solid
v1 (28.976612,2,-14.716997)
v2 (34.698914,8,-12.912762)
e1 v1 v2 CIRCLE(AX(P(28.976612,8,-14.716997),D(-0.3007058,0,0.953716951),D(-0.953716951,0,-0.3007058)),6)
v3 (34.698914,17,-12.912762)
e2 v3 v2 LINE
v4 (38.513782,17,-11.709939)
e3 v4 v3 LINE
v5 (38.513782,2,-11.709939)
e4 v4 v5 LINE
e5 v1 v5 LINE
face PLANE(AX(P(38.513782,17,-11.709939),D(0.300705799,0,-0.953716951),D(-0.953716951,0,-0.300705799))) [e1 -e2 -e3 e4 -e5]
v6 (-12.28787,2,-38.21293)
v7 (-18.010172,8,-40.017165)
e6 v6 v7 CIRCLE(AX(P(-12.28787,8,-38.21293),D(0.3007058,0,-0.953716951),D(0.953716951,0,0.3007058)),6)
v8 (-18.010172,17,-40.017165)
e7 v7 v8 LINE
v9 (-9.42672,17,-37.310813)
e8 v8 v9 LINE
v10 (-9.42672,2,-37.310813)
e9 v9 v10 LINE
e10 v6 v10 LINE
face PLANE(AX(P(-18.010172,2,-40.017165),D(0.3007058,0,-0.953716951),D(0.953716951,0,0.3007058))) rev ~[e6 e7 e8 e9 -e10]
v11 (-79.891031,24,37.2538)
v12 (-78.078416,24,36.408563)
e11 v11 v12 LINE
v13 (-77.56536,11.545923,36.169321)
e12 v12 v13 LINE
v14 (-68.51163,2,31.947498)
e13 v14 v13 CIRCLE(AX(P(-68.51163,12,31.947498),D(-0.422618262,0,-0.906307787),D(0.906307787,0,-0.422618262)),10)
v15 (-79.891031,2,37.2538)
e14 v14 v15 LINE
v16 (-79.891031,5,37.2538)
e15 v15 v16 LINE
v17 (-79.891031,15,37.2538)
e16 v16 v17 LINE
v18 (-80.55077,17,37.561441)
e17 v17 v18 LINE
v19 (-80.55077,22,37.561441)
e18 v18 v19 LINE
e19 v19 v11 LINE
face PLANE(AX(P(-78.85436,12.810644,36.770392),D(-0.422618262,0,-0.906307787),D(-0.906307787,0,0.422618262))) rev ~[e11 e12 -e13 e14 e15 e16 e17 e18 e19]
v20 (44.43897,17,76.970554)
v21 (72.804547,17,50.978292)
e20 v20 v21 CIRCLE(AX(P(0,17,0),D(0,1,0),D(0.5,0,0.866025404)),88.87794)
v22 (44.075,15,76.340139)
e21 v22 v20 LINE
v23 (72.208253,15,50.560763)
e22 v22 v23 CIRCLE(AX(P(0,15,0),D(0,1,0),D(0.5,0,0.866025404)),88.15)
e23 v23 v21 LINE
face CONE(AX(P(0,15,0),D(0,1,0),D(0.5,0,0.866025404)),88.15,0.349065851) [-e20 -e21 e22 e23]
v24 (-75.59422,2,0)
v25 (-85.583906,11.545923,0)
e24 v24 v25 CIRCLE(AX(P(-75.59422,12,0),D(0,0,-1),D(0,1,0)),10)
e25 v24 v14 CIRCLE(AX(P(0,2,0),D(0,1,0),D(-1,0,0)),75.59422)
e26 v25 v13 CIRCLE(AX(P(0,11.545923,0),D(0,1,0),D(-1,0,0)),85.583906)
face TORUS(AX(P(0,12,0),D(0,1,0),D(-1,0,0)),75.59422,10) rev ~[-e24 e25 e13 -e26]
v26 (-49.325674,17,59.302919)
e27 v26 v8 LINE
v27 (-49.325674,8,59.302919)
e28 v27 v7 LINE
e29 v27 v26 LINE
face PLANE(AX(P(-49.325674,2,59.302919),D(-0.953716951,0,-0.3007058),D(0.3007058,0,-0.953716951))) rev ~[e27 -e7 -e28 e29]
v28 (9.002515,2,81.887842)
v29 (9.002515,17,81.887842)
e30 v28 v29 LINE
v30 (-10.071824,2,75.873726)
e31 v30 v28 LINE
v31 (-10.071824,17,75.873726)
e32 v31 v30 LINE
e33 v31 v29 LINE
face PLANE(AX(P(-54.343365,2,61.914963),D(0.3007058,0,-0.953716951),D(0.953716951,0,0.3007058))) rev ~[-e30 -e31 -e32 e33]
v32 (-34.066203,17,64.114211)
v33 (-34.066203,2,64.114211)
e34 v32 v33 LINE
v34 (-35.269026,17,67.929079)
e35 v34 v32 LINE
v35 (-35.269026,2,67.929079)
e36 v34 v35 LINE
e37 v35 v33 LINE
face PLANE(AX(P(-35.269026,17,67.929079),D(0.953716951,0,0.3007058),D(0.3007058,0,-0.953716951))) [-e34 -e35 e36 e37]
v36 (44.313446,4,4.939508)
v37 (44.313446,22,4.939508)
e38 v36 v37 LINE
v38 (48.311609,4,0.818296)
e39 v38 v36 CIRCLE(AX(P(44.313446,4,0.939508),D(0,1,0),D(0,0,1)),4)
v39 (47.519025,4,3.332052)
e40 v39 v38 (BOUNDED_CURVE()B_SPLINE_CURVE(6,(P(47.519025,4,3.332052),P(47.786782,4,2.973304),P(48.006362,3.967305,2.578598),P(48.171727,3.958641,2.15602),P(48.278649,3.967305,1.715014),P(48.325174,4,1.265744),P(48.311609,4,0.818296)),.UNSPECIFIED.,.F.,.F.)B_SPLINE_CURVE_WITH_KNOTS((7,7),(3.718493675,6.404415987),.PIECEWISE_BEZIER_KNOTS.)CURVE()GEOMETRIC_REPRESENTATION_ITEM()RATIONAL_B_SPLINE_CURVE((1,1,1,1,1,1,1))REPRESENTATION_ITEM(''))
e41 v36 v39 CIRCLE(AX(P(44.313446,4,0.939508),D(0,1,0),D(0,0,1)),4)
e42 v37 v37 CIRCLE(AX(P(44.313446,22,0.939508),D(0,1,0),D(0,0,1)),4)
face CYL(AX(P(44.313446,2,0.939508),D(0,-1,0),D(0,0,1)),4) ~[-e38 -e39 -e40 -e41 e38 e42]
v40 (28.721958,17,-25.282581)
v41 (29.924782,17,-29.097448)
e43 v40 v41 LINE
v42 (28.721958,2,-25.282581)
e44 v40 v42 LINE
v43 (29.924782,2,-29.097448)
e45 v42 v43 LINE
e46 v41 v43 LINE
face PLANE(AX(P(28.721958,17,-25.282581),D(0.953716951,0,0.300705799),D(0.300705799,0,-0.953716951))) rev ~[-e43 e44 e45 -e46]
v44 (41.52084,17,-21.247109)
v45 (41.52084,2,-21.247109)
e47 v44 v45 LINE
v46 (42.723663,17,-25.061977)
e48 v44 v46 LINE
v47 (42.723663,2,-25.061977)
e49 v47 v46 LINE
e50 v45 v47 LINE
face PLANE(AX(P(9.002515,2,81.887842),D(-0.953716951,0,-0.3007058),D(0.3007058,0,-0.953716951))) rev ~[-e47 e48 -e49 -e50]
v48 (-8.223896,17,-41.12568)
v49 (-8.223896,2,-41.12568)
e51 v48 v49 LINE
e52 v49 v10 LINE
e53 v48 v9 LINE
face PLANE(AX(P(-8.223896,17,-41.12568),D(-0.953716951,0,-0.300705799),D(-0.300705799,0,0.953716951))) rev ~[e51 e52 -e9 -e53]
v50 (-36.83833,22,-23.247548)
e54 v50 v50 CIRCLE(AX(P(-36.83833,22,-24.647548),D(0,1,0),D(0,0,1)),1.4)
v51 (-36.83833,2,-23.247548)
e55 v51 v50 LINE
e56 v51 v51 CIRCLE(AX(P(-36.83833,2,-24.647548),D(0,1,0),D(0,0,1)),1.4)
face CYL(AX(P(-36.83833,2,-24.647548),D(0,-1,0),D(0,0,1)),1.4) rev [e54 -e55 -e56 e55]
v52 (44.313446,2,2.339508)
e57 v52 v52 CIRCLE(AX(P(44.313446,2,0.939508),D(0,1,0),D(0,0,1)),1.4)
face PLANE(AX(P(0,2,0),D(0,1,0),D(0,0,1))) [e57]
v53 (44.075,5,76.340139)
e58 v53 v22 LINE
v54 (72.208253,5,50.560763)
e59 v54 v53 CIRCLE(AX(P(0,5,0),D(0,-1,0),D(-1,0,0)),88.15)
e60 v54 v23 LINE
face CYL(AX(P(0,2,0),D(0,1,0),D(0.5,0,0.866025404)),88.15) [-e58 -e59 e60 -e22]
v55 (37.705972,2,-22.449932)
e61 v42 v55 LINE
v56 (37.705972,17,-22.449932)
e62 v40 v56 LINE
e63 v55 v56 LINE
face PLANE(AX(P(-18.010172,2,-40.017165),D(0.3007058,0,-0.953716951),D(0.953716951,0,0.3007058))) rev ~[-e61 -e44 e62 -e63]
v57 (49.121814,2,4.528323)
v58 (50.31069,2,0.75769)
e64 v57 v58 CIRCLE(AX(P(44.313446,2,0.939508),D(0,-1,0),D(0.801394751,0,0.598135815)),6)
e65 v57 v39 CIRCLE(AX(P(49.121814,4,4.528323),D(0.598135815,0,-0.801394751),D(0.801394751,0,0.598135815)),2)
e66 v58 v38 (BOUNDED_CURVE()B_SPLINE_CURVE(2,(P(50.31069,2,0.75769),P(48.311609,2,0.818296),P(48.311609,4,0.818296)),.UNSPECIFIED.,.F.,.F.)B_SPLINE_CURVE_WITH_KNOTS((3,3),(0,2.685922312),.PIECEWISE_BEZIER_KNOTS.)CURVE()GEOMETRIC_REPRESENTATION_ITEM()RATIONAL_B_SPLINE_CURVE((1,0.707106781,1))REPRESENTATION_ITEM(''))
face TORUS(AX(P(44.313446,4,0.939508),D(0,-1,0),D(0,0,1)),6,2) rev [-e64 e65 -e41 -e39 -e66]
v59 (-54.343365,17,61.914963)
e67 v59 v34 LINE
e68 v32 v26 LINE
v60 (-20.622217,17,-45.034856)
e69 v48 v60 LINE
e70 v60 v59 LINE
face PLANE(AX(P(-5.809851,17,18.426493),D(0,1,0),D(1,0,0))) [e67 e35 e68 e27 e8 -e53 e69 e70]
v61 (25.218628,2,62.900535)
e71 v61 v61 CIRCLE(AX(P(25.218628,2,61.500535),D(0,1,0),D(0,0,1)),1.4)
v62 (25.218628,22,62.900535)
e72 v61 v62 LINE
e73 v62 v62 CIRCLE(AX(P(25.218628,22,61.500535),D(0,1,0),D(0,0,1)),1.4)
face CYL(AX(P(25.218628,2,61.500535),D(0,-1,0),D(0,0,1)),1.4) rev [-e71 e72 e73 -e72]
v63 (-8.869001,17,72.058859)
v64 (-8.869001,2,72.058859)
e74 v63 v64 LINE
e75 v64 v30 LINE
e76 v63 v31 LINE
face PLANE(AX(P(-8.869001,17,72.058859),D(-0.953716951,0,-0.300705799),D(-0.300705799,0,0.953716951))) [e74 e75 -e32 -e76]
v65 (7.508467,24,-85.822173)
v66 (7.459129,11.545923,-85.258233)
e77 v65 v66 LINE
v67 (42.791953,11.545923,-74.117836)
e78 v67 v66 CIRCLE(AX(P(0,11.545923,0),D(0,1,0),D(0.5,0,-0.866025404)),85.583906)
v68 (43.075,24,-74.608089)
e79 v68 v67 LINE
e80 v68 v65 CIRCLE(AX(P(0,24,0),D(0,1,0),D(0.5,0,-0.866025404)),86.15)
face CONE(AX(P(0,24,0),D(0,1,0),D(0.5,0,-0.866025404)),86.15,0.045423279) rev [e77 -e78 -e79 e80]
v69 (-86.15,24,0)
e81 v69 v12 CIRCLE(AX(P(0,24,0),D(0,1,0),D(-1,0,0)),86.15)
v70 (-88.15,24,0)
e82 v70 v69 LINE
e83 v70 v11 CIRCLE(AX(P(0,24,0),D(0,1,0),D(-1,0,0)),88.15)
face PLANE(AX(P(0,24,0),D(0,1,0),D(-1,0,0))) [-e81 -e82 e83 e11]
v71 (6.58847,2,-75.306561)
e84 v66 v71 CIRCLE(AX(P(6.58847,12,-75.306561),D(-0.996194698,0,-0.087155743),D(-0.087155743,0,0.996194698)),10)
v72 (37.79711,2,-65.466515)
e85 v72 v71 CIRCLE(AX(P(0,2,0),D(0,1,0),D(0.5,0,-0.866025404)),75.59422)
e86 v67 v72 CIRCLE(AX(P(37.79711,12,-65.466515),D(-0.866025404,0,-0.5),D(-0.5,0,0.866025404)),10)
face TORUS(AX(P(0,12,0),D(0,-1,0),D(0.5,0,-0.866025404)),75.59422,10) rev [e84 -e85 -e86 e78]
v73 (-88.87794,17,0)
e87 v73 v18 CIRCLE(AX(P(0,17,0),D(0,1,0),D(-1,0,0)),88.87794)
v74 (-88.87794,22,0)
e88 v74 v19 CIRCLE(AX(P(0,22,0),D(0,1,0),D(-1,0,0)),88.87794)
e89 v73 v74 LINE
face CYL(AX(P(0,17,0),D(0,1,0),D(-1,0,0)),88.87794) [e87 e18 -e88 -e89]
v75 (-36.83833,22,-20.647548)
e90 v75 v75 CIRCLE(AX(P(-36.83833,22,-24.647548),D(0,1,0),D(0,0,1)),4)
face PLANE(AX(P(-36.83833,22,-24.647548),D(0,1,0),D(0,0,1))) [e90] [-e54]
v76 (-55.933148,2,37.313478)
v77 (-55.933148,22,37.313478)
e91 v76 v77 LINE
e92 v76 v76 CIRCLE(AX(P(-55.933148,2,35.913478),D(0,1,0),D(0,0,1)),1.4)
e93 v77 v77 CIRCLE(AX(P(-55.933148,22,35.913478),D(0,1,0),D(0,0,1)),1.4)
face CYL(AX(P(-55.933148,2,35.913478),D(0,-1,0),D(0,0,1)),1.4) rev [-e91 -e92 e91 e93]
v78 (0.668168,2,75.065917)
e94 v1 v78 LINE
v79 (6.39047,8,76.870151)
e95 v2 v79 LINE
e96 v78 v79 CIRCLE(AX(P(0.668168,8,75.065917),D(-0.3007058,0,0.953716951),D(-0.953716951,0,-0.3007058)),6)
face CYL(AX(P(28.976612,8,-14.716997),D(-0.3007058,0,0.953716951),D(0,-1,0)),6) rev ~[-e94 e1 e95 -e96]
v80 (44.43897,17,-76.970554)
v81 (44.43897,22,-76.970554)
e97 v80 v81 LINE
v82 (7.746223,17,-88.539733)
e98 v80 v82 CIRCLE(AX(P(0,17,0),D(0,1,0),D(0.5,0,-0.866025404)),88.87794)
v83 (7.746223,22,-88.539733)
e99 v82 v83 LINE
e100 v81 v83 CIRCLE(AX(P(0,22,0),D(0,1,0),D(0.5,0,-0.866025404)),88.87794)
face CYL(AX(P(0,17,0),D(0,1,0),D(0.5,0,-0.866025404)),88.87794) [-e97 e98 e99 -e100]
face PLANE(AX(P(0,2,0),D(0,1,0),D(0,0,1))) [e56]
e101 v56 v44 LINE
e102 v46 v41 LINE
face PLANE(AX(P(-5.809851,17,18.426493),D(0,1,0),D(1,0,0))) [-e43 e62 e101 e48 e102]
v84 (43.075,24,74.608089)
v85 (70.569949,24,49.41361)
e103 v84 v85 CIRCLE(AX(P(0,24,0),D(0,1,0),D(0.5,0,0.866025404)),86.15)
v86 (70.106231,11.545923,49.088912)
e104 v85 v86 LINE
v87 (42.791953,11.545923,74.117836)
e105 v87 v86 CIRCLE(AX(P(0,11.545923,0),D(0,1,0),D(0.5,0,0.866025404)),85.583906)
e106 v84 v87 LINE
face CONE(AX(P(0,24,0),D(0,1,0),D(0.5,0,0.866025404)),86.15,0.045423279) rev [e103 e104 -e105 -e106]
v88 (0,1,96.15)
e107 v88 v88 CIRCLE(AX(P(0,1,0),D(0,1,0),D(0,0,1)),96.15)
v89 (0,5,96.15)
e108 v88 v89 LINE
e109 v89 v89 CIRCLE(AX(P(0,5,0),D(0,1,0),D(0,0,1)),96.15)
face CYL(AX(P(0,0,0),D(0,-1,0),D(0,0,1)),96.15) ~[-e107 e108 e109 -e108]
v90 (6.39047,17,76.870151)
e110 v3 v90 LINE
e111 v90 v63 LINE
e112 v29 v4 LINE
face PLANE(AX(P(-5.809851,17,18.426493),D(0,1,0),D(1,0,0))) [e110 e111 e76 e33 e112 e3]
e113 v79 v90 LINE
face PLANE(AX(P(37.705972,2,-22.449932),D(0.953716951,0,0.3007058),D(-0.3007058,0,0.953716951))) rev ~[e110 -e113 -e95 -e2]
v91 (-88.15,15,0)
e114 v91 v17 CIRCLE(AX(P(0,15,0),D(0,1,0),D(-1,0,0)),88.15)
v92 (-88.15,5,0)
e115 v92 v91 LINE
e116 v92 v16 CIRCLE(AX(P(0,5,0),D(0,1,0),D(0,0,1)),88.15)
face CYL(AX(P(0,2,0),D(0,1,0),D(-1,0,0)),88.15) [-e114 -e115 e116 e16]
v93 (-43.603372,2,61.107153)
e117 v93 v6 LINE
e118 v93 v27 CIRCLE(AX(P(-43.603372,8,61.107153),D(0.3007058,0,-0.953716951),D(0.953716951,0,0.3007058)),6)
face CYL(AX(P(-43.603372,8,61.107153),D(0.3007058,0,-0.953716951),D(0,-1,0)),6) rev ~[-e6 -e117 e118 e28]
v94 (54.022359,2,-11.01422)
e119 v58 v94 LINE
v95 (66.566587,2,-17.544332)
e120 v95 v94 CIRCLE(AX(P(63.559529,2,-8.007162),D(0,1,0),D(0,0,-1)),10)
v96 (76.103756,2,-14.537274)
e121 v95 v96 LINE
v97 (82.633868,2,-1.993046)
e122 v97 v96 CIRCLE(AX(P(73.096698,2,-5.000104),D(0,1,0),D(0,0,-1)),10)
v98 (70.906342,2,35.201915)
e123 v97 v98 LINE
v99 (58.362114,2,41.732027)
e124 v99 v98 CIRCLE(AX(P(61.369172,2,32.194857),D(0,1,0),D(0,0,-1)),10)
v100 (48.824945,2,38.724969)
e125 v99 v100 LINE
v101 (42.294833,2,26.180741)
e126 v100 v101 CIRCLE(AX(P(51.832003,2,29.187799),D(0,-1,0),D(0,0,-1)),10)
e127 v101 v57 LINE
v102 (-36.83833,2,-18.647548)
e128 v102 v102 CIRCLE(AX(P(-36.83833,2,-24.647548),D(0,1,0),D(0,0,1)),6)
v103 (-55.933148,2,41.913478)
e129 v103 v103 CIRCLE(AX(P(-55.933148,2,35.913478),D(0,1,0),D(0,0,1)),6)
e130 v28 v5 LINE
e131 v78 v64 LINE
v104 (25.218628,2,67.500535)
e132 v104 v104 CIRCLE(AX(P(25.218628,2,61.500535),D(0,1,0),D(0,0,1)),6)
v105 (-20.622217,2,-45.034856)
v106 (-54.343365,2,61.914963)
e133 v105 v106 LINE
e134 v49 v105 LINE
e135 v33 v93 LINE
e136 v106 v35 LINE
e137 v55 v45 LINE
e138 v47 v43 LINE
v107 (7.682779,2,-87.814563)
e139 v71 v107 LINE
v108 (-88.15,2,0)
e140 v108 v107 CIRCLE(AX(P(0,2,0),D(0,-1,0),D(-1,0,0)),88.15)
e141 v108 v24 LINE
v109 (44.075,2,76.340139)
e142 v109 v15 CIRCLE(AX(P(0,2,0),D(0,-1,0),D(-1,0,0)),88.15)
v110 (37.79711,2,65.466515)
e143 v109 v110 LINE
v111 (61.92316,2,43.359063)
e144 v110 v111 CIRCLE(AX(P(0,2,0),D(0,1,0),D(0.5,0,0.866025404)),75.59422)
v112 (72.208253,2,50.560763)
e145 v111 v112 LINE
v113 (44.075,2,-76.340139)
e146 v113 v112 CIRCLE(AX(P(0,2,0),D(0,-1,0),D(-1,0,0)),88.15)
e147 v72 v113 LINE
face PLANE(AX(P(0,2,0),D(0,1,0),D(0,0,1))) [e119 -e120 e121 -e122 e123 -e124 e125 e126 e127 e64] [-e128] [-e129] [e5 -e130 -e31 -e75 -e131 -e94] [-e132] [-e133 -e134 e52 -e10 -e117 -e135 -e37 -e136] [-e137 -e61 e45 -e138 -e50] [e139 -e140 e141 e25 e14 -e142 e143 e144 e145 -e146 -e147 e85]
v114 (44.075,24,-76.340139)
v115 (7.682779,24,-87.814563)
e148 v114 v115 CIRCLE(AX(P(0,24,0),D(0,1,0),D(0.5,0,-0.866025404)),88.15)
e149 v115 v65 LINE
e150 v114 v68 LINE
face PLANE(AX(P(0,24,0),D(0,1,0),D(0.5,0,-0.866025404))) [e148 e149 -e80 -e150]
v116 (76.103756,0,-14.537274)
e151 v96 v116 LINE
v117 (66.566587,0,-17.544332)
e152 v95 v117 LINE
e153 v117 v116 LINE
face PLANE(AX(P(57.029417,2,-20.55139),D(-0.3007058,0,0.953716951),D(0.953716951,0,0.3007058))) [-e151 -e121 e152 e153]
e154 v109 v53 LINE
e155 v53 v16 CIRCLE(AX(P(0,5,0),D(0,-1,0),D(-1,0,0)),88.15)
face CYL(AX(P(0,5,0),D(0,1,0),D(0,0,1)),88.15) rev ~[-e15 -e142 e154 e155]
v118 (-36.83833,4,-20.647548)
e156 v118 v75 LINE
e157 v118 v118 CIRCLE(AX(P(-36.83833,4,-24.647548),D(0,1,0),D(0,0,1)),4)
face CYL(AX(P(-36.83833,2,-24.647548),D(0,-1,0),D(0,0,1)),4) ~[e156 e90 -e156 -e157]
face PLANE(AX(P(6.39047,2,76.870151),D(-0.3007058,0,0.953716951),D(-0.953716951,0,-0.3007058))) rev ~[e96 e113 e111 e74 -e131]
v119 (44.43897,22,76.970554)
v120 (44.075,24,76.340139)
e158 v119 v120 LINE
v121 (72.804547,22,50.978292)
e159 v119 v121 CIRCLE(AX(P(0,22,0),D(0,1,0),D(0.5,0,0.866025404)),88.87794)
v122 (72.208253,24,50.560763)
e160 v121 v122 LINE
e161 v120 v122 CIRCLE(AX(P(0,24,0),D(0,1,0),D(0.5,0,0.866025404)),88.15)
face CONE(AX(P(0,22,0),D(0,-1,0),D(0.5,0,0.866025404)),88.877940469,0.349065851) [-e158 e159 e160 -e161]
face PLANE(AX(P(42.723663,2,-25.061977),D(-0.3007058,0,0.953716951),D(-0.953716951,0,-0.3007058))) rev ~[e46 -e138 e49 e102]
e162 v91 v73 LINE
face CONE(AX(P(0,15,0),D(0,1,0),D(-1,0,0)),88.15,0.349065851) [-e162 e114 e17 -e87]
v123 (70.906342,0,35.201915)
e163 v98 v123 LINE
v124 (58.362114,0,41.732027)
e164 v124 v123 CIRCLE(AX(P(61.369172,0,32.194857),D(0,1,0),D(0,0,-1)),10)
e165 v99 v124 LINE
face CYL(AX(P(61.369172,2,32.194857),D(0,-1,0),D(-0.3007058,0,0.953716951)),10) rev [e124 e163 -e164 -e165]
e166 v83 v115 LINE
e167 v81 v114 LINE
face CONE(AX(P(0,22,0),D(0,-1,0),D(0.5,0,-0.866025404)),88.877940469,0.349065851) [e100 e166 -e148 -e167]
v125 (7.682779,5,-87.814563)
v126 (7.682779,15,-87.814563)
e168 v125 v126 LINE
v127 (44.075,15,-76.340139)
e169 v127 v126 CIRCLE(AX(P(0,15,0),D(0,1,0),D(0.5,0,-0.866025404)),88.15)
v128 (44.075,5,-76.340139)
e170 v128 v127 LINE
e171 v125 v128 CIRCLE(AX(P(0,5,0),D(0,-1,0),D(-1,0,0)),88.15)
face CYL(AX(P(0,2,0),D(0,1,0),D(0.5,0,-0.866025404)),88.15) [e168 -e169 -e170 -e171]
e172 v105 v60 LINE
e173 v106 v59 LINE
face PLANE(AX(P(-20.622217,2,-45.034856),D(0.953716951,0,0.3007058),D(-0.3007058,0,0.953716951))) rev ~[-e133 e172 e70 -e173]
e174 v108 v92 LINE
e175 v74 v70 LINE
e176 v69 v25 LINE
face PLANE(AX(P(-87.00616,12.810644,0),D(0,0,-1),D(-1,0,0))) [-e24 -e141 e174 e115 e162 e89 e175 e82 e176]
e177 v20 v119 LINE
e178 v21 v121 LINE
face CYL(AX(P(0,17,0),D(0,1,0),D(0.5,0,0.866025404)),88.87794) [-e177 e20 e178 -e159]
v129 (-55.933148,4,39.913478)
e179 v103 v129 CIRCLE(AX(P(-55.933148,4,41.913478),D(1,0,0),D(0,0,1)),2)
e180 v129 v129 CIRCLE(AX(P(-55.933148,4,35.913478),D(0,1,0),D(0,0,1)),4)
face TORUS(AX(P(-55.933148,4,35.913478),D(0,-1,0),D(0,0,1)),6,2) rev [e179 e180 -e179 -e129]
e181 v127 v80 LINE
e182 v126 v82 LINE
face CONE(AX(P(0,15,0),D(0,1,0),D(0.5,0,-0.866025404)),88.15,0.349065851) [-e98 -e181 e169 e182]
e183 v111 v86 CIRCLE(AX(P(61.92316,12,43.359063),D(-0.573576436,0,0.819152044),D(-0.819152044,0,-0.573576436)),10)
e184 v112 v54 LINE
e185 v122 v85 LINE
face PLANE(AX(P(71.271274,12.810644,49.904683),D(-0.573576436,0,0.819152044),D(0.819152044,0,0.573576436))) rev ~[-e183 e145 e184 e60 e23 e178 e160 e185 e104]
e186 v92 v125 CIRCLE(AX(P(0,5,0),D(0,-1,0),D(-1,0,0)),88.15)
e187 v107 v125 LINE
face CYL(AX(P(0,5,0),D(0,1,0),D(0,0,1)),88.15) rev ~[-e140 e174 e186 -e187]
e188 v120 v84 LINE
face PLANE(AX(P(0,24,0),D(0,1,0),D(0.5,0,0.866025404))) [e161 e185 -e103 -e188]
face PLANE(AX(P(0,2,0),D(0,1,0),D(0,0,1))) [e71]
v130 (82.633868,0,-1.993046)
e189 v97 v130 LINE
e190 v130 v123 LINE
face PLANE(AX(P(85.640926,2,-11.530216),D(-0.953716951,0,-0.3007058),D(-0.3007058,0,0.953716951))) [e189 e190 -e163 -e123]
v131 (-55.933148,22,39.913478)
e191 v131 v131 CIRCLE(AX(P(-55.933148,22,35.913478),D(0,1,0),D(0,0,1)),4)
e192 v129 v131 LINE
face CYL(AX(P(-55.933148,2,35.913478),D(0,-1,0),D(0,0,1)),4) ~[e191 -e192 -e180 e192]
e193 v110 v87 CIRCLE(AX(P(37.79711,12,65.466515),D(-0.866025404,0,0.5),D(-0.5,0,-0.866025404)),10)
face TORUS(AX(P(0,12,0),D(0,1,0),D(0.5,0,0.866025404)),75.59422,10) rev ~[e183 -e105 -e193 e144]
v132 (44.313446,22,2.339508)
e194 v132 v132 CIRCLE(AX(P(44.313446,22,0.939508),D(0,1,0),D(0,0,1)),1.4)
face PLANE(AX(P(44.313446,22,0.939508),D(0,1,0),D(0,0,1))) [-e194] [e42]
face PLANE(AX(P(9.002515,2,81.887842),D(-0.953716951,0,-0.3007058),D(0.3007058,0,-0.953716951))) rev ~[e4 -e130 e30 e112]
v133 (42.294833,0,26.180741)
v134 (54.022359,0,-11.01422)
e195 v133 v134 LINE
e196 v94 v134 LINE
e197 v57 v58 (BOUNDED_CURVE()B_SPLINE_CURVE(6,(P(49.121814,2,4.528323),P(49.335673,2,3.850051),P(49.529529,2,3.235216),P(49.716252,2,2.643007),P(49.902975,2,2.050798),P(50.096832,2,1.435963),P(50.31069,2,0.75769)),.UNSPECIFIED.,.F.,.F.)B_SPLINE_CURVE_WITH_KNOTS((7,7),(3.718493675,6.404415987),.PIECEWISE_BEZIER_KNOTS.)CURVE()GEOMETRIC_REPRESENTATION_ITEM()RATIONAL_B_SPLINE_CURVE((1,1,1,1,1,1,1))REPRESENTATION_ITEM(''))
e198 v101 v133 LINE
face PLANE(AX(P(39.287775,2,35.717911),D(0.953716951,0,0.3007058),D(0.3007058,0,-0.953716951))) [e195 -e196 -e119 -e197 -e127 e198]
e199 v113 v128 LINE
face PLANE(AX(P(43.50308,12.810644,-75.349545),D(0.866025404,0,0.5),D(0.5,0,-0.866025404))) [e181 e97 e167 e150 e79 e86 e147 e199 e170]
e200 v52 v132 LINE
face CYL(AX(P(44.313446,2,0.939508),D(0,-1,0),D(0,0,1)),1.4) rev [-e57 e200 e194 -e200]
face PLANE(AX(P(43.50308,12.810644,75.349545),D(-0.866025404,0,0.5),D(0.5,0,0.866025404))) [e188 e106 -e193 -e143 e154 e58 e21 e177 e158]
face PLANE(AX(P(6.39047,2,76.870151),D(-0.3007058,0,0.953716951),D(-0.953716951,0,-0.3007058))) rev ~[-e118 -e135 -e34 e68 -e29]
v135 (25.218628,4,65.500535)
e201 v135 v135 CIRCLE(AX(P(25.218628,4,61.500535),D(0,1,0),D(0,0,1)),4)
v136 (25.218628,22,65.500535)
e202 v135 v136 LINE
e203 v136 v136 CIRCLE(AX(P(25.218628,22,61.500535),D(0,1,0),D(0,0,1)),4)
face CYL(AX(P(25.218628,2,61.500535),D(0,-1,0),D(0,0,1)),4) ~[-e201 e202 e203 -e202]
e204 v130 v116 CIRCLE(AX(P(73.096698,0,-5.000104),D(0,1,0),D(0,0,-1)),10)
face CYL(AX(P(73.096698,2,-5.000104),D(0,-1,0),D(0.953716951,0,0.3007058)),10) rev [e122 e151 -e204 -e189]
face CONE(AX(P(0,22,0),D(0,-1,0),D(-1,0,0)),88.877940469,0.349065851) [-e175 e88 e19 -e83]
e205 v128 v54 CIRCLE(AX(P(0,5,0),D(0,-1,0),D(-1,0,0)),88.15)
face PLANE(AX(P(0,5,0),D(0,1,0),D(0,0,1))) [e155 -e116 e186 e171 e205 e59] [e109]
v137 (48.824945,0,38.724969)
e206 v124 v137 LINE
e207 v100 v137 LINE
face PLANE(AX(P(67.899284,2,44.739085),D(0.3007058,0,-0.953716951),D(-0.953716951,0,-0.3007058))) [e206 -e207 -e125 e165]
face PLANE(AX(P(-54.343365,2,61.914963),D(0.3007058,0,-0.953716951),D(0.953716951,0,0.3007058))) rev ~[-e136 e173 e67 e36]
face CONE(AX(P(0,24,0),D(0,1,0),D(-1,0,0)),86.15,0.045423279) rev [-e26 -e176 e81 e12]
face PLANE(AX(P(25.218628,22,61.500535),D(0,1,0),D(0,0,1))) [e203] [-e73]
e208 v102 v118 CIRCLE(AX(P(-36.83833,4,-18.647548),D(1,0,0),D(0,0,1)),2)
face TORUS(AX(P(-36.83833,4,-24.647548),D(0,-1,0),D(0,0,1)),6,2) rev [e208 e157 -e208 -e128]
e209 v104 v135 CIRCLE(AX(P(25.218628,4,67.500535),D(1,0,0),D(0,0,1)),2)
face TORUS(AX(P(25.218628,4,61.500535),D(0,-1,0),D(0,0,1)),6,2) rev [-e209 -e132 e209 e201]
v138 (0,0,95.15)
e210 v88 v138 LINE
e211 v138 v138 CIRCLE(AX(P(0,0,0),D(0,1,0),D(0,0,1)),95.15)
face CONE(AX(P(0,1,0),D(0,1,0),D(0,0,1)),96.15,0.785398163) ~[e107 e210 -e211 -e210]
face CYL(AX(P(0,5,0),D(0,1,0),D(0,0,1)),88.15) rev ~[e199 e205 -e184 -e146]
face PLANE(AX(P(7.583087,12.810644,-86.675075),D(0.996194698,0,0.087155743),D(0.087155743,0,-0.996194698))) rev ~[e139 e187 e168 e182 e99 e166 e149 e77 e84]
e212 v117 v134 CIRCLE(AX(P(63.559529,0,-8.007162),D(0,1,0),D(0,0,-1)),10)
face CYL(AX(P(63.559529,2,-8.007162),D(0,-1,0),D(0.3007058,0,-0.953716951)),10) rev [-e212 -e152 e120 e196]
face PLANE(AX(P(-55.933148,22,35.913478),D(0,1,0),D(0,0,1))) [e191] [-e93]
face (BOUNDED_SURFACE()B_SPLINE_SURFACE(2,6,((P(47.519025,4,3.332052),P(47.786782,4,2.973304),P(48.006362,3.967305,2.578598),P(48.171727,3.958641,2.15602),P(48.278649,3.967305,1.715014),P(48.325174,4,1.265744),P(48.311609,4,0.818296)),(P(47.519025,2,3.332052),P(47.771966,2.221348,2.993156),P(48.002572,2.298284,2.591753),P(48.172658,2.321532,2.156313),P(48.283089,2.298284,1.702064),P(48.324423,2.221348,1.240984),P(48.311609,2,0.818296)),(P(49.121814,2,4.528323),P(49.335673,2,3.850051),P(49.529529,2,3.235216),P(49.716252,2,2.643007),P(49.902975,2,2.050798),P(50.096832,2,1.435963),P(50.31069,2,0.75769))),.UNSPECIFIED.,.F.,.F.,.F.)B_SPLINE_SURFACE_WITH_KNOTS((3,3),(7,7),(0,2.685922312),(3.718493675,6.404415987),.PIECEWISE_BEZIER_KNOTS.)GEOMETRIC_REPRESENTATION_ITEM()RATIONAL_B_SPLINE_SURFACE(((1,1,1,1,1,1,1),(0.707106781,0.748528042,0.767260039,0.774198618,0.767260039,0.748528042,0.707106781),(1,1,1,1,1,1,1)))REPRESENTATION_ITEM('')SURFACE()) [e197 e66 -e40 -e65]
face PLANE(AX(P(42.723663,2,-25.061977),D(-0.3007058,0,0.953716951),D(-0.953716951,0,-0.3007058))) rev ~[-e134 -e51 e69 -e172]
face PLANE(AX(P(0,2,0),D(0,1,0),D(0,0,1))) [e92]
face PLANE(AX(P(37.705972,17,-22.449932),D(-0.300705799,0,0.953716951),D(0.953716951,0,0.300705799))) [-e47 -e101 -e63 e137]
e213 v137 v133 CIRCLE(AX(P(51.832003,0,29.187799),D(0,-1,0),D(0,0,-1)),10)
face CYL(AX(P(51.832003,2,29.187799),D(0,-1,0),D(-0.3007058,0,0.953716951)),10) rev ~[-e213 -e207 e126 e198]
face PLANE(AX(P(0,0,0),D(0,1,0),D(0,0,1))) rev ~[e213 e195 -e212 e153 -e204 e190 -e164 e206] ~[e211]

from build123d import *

# Parameters (mm, degrees)
SKETCH1_R           = 96.15
BOSS_EXTRUDE1_DEPTH = 5
SKETCH2_R           = 88.15
CUT_EXTRUDE1_DEPTH  = 3
REVOLVE1_ANGLE      = 25
CIRPATTERN1_COUNT   = 3
FILLET1_R           = 10
SKETCH4_R           = 4
SKETCH4_R_2         = 1.4
BOSS_EXTRUDE2_DEPTH = 20
CHAMFER1_SIZE       = 1
BOSS_EXTRUDE3_DEPTH = 15
CUT_EXTRUDE2_DEPTH  = 15
CUT_EXTRUDE3_DEPTH  = 138.744854729
FILLET2_R           = 10
FILLET3_R           = 2
FILLET4_R           = 6
CUT_EXTRUDE4_DEPTH  = 15


with BuildPart() as part:
    # Sketch1 → Boss-Extrude1 (new body)
    with BuildSketch(Plane(origin=(0, 0, 0), x_dir=(1, 0, 0), z_dir=(0, 1, 0))):
        with Locations(Location((0, 0, 0), (0, 0, 270))):
            Circle(SKETCH1_R)
    extrude(amount=BOSS_EXTRUDE1_DEPTH)

    # Sketch2 → Cut-Extrude1 (cut)
    with BuildSketch(Plane(origin=(0, 5, 0), x_dir=(1, 0, 0), z_dir=(0, 1, 0))):
        with Locations(Location((0, 0, 0), (0, 0, 270))):
            Circle(SKETCH2_R)
    extrude(amount=-CUT_EXTRUDE1_DEPTH, mode=Mode.SUBTRACT)

    # Sketch3 → Revolve1 (revolve)
    with BuildSketch(Plane.XY):
        Polygon((-88.15, 2), (-88.15, 15), (-88.877940469, 17), (-88.877940469, 22), (-88.15, 24), (-86.15, 24), (-85.15, 2), align=None)
    revolve1 = revolve(axis=Axis((0, 2, 0), (0, 1, 0)), revolution_arc=REVOLVE1_ANGLE)

    # CirPattern1: Revolve1 ×3 about axis
    cirpattern1_axis = Axis((0, 0, 0), (0, 1, 0))
    for i in range(1, CIRPATTERN1_COUNT):
        add(revolve1.rotate(cirpattern1_axis, i * 360 / CIRPATTERN1_COUNT))

    # Fillet1
    fillet1_edges = [part.edges().sort_by_distance(p)[0] for p in [
        (-83.131605006, 2, 18.429833127),
        (57.526506178, 2, 62.779165229),
        (25.605098828, 2, -81.208998356),
    ]]
    fillet(fillet1_edges, radius=FILLET1_R)

    # Sketch4 → Boss-Extrude2 (add)
    # profile 1 of 4: a face of its own
    with BuildSketch(Plane(origin=(0, 2, 0), x_dir=(1, 0, 0), z_dir=(0, 1, 0))):
        with Locations(Location((-36.838329564, 24.647548103, 0), (0, 0, 270))):
            Circle(SKETCH4_R)
        with Locations(Location((-36.838329564, 24.647548103, 0), (0, 0, 270))):
            Circle(SKETCH4_R_2, mode=Mode.SUBTRACT)
    # profile 2 of 4: a face of its own
    with BuildSketch(Plane(origin=(0, 2, 0), x_dir=(1, 0, 0), z_dir=(0, 1, 0))):
        with Locations(Location((44.313445776, -0.939508377, 0), (0, 0, 270))):
            Circle(SKETCH4_R)
        with Locations(Location((44.313445776, -0.939508377, 0), (0, 0, 270))):
            Circle(SKETCH4_R_2, mode=Mode.SUBTRACT)
    # profile 3 of 4: a face of its own
    with BuildSketch(Plane(origin=(0, 2, 0), x_dir=(1, 0, 0), z_dir=(0, 1, 0))):
        with Locations(Location((25.218627507, -61.50053475, 0), (0, 0, 270))):
            Circle(SKETCH4_R)
        with Locations(Location((25.218627507, -61.50053475, 0), (0, 0, 270))):
            Circle(SKETCH4_R_2, mode=Mode.SUBTRACT)
    # profile 4 of 4: a face of its own
    with BuildSketch(Plane(origin=(0, 2, 0), x_dir=(1, 0, 0), z_dir=(0, 1, 0))):
        with Locations(Location((-55.933147832, -35.91347827, 0), (0, 0, 270))):
            Circle(SKETCH4_R)
        with Locations(Location((-55.933147832, -35.91347827, 0), (0, 0, 270))):
            Circle(SKETCH4_R_2, mode=Mode.SUBTRACT)
    extrude(amount=BOSS_EXTRUDE2_DEPTH)

    # Chamfer1
    chamfer1_edges = [part.edges().sort_by_distance(p)[0] for p in [
        (0, 0, -96.15),
    ]]
    chamfer(chamfer1_edges, length=CHAMFER1_SIZE)

    # Sketch5 → Boss-Extrude3 (add)
    with BuildSketch(Plane(origin=(0, 2, 0), x_dir=(1, 0, 0), z_dir=(0, 1, 0))):
        Polygon((9.002514728, -81.887842353), (42.723663084, 25.061976503), (-20.622216784, 45.034855706), (-54.343365141, -61.91496315), align=None)
        Polygon((6.390470123, -76.870151352), (-49.32567414, -59.302918545), (-18.010172179, 40.017164705), (37.705972083, 22.449931898), align=None, mode=Mode.SUBTRACT)
    extrude(amount=BOSS_EXTRUDE3_DEPTH)

    # Sketch6 → Cut-Extrude2 (cut)
    with BuildSketch(Plane(origin=(0, 17, 0), x_dir=(1, 0, 0), z_dir=(0, 1, 0))):
        Polygon((28.721958407, 25.28258053), (29.924781605, 29.097448333), (-8.223896425, 41.125680313), (-9.426719623, 37.31081251), align=None)
        Polygon((34.698914088, 12.912762391), (37.705972083, 22.449931898), (41.520839886, 21.2471087), (38.513781891, 11.709939193), align=None)
    extrude(amount=-CUT_EXTRUDE2_DEPTH, mode=Mode.SUBTRACT)

    # Sketch7 → Cut-Extrude3 (cut, through all)
    with BuildSketch(Plane(origin=(0, 2, 0), x_dir=(1, 0, 0), z_dir=(0, 1, 0))):
        Polygon((39.287775175, -35.717910583), (57.029417346, 20.551389511), (85.640925868, 11.530215526), (67.899283697, -44.739084568), align=None)
    extrude(amount=-CUT_EXTRUDE3_DEPTH, mode=Mode.SUBTRACT)

    # Fillet2
    fillet2_edges = [part.edges().sort_by_distance(p)[0] for p in [
        (67.899283697, 1, 44.739084568),
        (39.287775175, 1, 35.717910583),
        (57.029417346, 1, -20.551389511),
        (85.640925868, 1, -11.530215526),
    ]]
    fillet(fillet2_edges, radius=FILLET2_R)

    # Fillet3
    fillet3_edges = [part.edges().sort_by_distance(p)[0] for p in [
        (-36.838329564, 2, -28.647548103),
        (44.313445776, 2, -3.060491623),
        (25.218627507, 2, 57.50053475),
        (-55.933147832, 2, 31.91347827),
    ]]
    fillet(fillet3_edges, radius=FILLET3_R)

    # Fillet4
    fillet4_edges = [part.edges().sort_by_distance(p)[0] for p in [
        (20.544692106, 2, 31.978694481),
        (-33.66792316, 2, 9.64287692),
    ]]
    fillet(fillet4_edges, radius=FILLET4_R)

    # Sketch8 → Cut-Extrude4 (cut)
    with BuildSketch(Plane(origin=(0, 17, 0), x_dir=(1, 0, 0), z_dir=(0, 1, 0))):
        Polygon((-10.071824287, -75.873726363), (-35.269026126, -67.92907914), (-34.066202928, -64.114211338), (-8.869001089, -72.05885856), align=None)
    extrude(amount=-CUT_EXTRUDE4_DEPTH, mode=Mode.SUBTRACT)


solid = part.part
